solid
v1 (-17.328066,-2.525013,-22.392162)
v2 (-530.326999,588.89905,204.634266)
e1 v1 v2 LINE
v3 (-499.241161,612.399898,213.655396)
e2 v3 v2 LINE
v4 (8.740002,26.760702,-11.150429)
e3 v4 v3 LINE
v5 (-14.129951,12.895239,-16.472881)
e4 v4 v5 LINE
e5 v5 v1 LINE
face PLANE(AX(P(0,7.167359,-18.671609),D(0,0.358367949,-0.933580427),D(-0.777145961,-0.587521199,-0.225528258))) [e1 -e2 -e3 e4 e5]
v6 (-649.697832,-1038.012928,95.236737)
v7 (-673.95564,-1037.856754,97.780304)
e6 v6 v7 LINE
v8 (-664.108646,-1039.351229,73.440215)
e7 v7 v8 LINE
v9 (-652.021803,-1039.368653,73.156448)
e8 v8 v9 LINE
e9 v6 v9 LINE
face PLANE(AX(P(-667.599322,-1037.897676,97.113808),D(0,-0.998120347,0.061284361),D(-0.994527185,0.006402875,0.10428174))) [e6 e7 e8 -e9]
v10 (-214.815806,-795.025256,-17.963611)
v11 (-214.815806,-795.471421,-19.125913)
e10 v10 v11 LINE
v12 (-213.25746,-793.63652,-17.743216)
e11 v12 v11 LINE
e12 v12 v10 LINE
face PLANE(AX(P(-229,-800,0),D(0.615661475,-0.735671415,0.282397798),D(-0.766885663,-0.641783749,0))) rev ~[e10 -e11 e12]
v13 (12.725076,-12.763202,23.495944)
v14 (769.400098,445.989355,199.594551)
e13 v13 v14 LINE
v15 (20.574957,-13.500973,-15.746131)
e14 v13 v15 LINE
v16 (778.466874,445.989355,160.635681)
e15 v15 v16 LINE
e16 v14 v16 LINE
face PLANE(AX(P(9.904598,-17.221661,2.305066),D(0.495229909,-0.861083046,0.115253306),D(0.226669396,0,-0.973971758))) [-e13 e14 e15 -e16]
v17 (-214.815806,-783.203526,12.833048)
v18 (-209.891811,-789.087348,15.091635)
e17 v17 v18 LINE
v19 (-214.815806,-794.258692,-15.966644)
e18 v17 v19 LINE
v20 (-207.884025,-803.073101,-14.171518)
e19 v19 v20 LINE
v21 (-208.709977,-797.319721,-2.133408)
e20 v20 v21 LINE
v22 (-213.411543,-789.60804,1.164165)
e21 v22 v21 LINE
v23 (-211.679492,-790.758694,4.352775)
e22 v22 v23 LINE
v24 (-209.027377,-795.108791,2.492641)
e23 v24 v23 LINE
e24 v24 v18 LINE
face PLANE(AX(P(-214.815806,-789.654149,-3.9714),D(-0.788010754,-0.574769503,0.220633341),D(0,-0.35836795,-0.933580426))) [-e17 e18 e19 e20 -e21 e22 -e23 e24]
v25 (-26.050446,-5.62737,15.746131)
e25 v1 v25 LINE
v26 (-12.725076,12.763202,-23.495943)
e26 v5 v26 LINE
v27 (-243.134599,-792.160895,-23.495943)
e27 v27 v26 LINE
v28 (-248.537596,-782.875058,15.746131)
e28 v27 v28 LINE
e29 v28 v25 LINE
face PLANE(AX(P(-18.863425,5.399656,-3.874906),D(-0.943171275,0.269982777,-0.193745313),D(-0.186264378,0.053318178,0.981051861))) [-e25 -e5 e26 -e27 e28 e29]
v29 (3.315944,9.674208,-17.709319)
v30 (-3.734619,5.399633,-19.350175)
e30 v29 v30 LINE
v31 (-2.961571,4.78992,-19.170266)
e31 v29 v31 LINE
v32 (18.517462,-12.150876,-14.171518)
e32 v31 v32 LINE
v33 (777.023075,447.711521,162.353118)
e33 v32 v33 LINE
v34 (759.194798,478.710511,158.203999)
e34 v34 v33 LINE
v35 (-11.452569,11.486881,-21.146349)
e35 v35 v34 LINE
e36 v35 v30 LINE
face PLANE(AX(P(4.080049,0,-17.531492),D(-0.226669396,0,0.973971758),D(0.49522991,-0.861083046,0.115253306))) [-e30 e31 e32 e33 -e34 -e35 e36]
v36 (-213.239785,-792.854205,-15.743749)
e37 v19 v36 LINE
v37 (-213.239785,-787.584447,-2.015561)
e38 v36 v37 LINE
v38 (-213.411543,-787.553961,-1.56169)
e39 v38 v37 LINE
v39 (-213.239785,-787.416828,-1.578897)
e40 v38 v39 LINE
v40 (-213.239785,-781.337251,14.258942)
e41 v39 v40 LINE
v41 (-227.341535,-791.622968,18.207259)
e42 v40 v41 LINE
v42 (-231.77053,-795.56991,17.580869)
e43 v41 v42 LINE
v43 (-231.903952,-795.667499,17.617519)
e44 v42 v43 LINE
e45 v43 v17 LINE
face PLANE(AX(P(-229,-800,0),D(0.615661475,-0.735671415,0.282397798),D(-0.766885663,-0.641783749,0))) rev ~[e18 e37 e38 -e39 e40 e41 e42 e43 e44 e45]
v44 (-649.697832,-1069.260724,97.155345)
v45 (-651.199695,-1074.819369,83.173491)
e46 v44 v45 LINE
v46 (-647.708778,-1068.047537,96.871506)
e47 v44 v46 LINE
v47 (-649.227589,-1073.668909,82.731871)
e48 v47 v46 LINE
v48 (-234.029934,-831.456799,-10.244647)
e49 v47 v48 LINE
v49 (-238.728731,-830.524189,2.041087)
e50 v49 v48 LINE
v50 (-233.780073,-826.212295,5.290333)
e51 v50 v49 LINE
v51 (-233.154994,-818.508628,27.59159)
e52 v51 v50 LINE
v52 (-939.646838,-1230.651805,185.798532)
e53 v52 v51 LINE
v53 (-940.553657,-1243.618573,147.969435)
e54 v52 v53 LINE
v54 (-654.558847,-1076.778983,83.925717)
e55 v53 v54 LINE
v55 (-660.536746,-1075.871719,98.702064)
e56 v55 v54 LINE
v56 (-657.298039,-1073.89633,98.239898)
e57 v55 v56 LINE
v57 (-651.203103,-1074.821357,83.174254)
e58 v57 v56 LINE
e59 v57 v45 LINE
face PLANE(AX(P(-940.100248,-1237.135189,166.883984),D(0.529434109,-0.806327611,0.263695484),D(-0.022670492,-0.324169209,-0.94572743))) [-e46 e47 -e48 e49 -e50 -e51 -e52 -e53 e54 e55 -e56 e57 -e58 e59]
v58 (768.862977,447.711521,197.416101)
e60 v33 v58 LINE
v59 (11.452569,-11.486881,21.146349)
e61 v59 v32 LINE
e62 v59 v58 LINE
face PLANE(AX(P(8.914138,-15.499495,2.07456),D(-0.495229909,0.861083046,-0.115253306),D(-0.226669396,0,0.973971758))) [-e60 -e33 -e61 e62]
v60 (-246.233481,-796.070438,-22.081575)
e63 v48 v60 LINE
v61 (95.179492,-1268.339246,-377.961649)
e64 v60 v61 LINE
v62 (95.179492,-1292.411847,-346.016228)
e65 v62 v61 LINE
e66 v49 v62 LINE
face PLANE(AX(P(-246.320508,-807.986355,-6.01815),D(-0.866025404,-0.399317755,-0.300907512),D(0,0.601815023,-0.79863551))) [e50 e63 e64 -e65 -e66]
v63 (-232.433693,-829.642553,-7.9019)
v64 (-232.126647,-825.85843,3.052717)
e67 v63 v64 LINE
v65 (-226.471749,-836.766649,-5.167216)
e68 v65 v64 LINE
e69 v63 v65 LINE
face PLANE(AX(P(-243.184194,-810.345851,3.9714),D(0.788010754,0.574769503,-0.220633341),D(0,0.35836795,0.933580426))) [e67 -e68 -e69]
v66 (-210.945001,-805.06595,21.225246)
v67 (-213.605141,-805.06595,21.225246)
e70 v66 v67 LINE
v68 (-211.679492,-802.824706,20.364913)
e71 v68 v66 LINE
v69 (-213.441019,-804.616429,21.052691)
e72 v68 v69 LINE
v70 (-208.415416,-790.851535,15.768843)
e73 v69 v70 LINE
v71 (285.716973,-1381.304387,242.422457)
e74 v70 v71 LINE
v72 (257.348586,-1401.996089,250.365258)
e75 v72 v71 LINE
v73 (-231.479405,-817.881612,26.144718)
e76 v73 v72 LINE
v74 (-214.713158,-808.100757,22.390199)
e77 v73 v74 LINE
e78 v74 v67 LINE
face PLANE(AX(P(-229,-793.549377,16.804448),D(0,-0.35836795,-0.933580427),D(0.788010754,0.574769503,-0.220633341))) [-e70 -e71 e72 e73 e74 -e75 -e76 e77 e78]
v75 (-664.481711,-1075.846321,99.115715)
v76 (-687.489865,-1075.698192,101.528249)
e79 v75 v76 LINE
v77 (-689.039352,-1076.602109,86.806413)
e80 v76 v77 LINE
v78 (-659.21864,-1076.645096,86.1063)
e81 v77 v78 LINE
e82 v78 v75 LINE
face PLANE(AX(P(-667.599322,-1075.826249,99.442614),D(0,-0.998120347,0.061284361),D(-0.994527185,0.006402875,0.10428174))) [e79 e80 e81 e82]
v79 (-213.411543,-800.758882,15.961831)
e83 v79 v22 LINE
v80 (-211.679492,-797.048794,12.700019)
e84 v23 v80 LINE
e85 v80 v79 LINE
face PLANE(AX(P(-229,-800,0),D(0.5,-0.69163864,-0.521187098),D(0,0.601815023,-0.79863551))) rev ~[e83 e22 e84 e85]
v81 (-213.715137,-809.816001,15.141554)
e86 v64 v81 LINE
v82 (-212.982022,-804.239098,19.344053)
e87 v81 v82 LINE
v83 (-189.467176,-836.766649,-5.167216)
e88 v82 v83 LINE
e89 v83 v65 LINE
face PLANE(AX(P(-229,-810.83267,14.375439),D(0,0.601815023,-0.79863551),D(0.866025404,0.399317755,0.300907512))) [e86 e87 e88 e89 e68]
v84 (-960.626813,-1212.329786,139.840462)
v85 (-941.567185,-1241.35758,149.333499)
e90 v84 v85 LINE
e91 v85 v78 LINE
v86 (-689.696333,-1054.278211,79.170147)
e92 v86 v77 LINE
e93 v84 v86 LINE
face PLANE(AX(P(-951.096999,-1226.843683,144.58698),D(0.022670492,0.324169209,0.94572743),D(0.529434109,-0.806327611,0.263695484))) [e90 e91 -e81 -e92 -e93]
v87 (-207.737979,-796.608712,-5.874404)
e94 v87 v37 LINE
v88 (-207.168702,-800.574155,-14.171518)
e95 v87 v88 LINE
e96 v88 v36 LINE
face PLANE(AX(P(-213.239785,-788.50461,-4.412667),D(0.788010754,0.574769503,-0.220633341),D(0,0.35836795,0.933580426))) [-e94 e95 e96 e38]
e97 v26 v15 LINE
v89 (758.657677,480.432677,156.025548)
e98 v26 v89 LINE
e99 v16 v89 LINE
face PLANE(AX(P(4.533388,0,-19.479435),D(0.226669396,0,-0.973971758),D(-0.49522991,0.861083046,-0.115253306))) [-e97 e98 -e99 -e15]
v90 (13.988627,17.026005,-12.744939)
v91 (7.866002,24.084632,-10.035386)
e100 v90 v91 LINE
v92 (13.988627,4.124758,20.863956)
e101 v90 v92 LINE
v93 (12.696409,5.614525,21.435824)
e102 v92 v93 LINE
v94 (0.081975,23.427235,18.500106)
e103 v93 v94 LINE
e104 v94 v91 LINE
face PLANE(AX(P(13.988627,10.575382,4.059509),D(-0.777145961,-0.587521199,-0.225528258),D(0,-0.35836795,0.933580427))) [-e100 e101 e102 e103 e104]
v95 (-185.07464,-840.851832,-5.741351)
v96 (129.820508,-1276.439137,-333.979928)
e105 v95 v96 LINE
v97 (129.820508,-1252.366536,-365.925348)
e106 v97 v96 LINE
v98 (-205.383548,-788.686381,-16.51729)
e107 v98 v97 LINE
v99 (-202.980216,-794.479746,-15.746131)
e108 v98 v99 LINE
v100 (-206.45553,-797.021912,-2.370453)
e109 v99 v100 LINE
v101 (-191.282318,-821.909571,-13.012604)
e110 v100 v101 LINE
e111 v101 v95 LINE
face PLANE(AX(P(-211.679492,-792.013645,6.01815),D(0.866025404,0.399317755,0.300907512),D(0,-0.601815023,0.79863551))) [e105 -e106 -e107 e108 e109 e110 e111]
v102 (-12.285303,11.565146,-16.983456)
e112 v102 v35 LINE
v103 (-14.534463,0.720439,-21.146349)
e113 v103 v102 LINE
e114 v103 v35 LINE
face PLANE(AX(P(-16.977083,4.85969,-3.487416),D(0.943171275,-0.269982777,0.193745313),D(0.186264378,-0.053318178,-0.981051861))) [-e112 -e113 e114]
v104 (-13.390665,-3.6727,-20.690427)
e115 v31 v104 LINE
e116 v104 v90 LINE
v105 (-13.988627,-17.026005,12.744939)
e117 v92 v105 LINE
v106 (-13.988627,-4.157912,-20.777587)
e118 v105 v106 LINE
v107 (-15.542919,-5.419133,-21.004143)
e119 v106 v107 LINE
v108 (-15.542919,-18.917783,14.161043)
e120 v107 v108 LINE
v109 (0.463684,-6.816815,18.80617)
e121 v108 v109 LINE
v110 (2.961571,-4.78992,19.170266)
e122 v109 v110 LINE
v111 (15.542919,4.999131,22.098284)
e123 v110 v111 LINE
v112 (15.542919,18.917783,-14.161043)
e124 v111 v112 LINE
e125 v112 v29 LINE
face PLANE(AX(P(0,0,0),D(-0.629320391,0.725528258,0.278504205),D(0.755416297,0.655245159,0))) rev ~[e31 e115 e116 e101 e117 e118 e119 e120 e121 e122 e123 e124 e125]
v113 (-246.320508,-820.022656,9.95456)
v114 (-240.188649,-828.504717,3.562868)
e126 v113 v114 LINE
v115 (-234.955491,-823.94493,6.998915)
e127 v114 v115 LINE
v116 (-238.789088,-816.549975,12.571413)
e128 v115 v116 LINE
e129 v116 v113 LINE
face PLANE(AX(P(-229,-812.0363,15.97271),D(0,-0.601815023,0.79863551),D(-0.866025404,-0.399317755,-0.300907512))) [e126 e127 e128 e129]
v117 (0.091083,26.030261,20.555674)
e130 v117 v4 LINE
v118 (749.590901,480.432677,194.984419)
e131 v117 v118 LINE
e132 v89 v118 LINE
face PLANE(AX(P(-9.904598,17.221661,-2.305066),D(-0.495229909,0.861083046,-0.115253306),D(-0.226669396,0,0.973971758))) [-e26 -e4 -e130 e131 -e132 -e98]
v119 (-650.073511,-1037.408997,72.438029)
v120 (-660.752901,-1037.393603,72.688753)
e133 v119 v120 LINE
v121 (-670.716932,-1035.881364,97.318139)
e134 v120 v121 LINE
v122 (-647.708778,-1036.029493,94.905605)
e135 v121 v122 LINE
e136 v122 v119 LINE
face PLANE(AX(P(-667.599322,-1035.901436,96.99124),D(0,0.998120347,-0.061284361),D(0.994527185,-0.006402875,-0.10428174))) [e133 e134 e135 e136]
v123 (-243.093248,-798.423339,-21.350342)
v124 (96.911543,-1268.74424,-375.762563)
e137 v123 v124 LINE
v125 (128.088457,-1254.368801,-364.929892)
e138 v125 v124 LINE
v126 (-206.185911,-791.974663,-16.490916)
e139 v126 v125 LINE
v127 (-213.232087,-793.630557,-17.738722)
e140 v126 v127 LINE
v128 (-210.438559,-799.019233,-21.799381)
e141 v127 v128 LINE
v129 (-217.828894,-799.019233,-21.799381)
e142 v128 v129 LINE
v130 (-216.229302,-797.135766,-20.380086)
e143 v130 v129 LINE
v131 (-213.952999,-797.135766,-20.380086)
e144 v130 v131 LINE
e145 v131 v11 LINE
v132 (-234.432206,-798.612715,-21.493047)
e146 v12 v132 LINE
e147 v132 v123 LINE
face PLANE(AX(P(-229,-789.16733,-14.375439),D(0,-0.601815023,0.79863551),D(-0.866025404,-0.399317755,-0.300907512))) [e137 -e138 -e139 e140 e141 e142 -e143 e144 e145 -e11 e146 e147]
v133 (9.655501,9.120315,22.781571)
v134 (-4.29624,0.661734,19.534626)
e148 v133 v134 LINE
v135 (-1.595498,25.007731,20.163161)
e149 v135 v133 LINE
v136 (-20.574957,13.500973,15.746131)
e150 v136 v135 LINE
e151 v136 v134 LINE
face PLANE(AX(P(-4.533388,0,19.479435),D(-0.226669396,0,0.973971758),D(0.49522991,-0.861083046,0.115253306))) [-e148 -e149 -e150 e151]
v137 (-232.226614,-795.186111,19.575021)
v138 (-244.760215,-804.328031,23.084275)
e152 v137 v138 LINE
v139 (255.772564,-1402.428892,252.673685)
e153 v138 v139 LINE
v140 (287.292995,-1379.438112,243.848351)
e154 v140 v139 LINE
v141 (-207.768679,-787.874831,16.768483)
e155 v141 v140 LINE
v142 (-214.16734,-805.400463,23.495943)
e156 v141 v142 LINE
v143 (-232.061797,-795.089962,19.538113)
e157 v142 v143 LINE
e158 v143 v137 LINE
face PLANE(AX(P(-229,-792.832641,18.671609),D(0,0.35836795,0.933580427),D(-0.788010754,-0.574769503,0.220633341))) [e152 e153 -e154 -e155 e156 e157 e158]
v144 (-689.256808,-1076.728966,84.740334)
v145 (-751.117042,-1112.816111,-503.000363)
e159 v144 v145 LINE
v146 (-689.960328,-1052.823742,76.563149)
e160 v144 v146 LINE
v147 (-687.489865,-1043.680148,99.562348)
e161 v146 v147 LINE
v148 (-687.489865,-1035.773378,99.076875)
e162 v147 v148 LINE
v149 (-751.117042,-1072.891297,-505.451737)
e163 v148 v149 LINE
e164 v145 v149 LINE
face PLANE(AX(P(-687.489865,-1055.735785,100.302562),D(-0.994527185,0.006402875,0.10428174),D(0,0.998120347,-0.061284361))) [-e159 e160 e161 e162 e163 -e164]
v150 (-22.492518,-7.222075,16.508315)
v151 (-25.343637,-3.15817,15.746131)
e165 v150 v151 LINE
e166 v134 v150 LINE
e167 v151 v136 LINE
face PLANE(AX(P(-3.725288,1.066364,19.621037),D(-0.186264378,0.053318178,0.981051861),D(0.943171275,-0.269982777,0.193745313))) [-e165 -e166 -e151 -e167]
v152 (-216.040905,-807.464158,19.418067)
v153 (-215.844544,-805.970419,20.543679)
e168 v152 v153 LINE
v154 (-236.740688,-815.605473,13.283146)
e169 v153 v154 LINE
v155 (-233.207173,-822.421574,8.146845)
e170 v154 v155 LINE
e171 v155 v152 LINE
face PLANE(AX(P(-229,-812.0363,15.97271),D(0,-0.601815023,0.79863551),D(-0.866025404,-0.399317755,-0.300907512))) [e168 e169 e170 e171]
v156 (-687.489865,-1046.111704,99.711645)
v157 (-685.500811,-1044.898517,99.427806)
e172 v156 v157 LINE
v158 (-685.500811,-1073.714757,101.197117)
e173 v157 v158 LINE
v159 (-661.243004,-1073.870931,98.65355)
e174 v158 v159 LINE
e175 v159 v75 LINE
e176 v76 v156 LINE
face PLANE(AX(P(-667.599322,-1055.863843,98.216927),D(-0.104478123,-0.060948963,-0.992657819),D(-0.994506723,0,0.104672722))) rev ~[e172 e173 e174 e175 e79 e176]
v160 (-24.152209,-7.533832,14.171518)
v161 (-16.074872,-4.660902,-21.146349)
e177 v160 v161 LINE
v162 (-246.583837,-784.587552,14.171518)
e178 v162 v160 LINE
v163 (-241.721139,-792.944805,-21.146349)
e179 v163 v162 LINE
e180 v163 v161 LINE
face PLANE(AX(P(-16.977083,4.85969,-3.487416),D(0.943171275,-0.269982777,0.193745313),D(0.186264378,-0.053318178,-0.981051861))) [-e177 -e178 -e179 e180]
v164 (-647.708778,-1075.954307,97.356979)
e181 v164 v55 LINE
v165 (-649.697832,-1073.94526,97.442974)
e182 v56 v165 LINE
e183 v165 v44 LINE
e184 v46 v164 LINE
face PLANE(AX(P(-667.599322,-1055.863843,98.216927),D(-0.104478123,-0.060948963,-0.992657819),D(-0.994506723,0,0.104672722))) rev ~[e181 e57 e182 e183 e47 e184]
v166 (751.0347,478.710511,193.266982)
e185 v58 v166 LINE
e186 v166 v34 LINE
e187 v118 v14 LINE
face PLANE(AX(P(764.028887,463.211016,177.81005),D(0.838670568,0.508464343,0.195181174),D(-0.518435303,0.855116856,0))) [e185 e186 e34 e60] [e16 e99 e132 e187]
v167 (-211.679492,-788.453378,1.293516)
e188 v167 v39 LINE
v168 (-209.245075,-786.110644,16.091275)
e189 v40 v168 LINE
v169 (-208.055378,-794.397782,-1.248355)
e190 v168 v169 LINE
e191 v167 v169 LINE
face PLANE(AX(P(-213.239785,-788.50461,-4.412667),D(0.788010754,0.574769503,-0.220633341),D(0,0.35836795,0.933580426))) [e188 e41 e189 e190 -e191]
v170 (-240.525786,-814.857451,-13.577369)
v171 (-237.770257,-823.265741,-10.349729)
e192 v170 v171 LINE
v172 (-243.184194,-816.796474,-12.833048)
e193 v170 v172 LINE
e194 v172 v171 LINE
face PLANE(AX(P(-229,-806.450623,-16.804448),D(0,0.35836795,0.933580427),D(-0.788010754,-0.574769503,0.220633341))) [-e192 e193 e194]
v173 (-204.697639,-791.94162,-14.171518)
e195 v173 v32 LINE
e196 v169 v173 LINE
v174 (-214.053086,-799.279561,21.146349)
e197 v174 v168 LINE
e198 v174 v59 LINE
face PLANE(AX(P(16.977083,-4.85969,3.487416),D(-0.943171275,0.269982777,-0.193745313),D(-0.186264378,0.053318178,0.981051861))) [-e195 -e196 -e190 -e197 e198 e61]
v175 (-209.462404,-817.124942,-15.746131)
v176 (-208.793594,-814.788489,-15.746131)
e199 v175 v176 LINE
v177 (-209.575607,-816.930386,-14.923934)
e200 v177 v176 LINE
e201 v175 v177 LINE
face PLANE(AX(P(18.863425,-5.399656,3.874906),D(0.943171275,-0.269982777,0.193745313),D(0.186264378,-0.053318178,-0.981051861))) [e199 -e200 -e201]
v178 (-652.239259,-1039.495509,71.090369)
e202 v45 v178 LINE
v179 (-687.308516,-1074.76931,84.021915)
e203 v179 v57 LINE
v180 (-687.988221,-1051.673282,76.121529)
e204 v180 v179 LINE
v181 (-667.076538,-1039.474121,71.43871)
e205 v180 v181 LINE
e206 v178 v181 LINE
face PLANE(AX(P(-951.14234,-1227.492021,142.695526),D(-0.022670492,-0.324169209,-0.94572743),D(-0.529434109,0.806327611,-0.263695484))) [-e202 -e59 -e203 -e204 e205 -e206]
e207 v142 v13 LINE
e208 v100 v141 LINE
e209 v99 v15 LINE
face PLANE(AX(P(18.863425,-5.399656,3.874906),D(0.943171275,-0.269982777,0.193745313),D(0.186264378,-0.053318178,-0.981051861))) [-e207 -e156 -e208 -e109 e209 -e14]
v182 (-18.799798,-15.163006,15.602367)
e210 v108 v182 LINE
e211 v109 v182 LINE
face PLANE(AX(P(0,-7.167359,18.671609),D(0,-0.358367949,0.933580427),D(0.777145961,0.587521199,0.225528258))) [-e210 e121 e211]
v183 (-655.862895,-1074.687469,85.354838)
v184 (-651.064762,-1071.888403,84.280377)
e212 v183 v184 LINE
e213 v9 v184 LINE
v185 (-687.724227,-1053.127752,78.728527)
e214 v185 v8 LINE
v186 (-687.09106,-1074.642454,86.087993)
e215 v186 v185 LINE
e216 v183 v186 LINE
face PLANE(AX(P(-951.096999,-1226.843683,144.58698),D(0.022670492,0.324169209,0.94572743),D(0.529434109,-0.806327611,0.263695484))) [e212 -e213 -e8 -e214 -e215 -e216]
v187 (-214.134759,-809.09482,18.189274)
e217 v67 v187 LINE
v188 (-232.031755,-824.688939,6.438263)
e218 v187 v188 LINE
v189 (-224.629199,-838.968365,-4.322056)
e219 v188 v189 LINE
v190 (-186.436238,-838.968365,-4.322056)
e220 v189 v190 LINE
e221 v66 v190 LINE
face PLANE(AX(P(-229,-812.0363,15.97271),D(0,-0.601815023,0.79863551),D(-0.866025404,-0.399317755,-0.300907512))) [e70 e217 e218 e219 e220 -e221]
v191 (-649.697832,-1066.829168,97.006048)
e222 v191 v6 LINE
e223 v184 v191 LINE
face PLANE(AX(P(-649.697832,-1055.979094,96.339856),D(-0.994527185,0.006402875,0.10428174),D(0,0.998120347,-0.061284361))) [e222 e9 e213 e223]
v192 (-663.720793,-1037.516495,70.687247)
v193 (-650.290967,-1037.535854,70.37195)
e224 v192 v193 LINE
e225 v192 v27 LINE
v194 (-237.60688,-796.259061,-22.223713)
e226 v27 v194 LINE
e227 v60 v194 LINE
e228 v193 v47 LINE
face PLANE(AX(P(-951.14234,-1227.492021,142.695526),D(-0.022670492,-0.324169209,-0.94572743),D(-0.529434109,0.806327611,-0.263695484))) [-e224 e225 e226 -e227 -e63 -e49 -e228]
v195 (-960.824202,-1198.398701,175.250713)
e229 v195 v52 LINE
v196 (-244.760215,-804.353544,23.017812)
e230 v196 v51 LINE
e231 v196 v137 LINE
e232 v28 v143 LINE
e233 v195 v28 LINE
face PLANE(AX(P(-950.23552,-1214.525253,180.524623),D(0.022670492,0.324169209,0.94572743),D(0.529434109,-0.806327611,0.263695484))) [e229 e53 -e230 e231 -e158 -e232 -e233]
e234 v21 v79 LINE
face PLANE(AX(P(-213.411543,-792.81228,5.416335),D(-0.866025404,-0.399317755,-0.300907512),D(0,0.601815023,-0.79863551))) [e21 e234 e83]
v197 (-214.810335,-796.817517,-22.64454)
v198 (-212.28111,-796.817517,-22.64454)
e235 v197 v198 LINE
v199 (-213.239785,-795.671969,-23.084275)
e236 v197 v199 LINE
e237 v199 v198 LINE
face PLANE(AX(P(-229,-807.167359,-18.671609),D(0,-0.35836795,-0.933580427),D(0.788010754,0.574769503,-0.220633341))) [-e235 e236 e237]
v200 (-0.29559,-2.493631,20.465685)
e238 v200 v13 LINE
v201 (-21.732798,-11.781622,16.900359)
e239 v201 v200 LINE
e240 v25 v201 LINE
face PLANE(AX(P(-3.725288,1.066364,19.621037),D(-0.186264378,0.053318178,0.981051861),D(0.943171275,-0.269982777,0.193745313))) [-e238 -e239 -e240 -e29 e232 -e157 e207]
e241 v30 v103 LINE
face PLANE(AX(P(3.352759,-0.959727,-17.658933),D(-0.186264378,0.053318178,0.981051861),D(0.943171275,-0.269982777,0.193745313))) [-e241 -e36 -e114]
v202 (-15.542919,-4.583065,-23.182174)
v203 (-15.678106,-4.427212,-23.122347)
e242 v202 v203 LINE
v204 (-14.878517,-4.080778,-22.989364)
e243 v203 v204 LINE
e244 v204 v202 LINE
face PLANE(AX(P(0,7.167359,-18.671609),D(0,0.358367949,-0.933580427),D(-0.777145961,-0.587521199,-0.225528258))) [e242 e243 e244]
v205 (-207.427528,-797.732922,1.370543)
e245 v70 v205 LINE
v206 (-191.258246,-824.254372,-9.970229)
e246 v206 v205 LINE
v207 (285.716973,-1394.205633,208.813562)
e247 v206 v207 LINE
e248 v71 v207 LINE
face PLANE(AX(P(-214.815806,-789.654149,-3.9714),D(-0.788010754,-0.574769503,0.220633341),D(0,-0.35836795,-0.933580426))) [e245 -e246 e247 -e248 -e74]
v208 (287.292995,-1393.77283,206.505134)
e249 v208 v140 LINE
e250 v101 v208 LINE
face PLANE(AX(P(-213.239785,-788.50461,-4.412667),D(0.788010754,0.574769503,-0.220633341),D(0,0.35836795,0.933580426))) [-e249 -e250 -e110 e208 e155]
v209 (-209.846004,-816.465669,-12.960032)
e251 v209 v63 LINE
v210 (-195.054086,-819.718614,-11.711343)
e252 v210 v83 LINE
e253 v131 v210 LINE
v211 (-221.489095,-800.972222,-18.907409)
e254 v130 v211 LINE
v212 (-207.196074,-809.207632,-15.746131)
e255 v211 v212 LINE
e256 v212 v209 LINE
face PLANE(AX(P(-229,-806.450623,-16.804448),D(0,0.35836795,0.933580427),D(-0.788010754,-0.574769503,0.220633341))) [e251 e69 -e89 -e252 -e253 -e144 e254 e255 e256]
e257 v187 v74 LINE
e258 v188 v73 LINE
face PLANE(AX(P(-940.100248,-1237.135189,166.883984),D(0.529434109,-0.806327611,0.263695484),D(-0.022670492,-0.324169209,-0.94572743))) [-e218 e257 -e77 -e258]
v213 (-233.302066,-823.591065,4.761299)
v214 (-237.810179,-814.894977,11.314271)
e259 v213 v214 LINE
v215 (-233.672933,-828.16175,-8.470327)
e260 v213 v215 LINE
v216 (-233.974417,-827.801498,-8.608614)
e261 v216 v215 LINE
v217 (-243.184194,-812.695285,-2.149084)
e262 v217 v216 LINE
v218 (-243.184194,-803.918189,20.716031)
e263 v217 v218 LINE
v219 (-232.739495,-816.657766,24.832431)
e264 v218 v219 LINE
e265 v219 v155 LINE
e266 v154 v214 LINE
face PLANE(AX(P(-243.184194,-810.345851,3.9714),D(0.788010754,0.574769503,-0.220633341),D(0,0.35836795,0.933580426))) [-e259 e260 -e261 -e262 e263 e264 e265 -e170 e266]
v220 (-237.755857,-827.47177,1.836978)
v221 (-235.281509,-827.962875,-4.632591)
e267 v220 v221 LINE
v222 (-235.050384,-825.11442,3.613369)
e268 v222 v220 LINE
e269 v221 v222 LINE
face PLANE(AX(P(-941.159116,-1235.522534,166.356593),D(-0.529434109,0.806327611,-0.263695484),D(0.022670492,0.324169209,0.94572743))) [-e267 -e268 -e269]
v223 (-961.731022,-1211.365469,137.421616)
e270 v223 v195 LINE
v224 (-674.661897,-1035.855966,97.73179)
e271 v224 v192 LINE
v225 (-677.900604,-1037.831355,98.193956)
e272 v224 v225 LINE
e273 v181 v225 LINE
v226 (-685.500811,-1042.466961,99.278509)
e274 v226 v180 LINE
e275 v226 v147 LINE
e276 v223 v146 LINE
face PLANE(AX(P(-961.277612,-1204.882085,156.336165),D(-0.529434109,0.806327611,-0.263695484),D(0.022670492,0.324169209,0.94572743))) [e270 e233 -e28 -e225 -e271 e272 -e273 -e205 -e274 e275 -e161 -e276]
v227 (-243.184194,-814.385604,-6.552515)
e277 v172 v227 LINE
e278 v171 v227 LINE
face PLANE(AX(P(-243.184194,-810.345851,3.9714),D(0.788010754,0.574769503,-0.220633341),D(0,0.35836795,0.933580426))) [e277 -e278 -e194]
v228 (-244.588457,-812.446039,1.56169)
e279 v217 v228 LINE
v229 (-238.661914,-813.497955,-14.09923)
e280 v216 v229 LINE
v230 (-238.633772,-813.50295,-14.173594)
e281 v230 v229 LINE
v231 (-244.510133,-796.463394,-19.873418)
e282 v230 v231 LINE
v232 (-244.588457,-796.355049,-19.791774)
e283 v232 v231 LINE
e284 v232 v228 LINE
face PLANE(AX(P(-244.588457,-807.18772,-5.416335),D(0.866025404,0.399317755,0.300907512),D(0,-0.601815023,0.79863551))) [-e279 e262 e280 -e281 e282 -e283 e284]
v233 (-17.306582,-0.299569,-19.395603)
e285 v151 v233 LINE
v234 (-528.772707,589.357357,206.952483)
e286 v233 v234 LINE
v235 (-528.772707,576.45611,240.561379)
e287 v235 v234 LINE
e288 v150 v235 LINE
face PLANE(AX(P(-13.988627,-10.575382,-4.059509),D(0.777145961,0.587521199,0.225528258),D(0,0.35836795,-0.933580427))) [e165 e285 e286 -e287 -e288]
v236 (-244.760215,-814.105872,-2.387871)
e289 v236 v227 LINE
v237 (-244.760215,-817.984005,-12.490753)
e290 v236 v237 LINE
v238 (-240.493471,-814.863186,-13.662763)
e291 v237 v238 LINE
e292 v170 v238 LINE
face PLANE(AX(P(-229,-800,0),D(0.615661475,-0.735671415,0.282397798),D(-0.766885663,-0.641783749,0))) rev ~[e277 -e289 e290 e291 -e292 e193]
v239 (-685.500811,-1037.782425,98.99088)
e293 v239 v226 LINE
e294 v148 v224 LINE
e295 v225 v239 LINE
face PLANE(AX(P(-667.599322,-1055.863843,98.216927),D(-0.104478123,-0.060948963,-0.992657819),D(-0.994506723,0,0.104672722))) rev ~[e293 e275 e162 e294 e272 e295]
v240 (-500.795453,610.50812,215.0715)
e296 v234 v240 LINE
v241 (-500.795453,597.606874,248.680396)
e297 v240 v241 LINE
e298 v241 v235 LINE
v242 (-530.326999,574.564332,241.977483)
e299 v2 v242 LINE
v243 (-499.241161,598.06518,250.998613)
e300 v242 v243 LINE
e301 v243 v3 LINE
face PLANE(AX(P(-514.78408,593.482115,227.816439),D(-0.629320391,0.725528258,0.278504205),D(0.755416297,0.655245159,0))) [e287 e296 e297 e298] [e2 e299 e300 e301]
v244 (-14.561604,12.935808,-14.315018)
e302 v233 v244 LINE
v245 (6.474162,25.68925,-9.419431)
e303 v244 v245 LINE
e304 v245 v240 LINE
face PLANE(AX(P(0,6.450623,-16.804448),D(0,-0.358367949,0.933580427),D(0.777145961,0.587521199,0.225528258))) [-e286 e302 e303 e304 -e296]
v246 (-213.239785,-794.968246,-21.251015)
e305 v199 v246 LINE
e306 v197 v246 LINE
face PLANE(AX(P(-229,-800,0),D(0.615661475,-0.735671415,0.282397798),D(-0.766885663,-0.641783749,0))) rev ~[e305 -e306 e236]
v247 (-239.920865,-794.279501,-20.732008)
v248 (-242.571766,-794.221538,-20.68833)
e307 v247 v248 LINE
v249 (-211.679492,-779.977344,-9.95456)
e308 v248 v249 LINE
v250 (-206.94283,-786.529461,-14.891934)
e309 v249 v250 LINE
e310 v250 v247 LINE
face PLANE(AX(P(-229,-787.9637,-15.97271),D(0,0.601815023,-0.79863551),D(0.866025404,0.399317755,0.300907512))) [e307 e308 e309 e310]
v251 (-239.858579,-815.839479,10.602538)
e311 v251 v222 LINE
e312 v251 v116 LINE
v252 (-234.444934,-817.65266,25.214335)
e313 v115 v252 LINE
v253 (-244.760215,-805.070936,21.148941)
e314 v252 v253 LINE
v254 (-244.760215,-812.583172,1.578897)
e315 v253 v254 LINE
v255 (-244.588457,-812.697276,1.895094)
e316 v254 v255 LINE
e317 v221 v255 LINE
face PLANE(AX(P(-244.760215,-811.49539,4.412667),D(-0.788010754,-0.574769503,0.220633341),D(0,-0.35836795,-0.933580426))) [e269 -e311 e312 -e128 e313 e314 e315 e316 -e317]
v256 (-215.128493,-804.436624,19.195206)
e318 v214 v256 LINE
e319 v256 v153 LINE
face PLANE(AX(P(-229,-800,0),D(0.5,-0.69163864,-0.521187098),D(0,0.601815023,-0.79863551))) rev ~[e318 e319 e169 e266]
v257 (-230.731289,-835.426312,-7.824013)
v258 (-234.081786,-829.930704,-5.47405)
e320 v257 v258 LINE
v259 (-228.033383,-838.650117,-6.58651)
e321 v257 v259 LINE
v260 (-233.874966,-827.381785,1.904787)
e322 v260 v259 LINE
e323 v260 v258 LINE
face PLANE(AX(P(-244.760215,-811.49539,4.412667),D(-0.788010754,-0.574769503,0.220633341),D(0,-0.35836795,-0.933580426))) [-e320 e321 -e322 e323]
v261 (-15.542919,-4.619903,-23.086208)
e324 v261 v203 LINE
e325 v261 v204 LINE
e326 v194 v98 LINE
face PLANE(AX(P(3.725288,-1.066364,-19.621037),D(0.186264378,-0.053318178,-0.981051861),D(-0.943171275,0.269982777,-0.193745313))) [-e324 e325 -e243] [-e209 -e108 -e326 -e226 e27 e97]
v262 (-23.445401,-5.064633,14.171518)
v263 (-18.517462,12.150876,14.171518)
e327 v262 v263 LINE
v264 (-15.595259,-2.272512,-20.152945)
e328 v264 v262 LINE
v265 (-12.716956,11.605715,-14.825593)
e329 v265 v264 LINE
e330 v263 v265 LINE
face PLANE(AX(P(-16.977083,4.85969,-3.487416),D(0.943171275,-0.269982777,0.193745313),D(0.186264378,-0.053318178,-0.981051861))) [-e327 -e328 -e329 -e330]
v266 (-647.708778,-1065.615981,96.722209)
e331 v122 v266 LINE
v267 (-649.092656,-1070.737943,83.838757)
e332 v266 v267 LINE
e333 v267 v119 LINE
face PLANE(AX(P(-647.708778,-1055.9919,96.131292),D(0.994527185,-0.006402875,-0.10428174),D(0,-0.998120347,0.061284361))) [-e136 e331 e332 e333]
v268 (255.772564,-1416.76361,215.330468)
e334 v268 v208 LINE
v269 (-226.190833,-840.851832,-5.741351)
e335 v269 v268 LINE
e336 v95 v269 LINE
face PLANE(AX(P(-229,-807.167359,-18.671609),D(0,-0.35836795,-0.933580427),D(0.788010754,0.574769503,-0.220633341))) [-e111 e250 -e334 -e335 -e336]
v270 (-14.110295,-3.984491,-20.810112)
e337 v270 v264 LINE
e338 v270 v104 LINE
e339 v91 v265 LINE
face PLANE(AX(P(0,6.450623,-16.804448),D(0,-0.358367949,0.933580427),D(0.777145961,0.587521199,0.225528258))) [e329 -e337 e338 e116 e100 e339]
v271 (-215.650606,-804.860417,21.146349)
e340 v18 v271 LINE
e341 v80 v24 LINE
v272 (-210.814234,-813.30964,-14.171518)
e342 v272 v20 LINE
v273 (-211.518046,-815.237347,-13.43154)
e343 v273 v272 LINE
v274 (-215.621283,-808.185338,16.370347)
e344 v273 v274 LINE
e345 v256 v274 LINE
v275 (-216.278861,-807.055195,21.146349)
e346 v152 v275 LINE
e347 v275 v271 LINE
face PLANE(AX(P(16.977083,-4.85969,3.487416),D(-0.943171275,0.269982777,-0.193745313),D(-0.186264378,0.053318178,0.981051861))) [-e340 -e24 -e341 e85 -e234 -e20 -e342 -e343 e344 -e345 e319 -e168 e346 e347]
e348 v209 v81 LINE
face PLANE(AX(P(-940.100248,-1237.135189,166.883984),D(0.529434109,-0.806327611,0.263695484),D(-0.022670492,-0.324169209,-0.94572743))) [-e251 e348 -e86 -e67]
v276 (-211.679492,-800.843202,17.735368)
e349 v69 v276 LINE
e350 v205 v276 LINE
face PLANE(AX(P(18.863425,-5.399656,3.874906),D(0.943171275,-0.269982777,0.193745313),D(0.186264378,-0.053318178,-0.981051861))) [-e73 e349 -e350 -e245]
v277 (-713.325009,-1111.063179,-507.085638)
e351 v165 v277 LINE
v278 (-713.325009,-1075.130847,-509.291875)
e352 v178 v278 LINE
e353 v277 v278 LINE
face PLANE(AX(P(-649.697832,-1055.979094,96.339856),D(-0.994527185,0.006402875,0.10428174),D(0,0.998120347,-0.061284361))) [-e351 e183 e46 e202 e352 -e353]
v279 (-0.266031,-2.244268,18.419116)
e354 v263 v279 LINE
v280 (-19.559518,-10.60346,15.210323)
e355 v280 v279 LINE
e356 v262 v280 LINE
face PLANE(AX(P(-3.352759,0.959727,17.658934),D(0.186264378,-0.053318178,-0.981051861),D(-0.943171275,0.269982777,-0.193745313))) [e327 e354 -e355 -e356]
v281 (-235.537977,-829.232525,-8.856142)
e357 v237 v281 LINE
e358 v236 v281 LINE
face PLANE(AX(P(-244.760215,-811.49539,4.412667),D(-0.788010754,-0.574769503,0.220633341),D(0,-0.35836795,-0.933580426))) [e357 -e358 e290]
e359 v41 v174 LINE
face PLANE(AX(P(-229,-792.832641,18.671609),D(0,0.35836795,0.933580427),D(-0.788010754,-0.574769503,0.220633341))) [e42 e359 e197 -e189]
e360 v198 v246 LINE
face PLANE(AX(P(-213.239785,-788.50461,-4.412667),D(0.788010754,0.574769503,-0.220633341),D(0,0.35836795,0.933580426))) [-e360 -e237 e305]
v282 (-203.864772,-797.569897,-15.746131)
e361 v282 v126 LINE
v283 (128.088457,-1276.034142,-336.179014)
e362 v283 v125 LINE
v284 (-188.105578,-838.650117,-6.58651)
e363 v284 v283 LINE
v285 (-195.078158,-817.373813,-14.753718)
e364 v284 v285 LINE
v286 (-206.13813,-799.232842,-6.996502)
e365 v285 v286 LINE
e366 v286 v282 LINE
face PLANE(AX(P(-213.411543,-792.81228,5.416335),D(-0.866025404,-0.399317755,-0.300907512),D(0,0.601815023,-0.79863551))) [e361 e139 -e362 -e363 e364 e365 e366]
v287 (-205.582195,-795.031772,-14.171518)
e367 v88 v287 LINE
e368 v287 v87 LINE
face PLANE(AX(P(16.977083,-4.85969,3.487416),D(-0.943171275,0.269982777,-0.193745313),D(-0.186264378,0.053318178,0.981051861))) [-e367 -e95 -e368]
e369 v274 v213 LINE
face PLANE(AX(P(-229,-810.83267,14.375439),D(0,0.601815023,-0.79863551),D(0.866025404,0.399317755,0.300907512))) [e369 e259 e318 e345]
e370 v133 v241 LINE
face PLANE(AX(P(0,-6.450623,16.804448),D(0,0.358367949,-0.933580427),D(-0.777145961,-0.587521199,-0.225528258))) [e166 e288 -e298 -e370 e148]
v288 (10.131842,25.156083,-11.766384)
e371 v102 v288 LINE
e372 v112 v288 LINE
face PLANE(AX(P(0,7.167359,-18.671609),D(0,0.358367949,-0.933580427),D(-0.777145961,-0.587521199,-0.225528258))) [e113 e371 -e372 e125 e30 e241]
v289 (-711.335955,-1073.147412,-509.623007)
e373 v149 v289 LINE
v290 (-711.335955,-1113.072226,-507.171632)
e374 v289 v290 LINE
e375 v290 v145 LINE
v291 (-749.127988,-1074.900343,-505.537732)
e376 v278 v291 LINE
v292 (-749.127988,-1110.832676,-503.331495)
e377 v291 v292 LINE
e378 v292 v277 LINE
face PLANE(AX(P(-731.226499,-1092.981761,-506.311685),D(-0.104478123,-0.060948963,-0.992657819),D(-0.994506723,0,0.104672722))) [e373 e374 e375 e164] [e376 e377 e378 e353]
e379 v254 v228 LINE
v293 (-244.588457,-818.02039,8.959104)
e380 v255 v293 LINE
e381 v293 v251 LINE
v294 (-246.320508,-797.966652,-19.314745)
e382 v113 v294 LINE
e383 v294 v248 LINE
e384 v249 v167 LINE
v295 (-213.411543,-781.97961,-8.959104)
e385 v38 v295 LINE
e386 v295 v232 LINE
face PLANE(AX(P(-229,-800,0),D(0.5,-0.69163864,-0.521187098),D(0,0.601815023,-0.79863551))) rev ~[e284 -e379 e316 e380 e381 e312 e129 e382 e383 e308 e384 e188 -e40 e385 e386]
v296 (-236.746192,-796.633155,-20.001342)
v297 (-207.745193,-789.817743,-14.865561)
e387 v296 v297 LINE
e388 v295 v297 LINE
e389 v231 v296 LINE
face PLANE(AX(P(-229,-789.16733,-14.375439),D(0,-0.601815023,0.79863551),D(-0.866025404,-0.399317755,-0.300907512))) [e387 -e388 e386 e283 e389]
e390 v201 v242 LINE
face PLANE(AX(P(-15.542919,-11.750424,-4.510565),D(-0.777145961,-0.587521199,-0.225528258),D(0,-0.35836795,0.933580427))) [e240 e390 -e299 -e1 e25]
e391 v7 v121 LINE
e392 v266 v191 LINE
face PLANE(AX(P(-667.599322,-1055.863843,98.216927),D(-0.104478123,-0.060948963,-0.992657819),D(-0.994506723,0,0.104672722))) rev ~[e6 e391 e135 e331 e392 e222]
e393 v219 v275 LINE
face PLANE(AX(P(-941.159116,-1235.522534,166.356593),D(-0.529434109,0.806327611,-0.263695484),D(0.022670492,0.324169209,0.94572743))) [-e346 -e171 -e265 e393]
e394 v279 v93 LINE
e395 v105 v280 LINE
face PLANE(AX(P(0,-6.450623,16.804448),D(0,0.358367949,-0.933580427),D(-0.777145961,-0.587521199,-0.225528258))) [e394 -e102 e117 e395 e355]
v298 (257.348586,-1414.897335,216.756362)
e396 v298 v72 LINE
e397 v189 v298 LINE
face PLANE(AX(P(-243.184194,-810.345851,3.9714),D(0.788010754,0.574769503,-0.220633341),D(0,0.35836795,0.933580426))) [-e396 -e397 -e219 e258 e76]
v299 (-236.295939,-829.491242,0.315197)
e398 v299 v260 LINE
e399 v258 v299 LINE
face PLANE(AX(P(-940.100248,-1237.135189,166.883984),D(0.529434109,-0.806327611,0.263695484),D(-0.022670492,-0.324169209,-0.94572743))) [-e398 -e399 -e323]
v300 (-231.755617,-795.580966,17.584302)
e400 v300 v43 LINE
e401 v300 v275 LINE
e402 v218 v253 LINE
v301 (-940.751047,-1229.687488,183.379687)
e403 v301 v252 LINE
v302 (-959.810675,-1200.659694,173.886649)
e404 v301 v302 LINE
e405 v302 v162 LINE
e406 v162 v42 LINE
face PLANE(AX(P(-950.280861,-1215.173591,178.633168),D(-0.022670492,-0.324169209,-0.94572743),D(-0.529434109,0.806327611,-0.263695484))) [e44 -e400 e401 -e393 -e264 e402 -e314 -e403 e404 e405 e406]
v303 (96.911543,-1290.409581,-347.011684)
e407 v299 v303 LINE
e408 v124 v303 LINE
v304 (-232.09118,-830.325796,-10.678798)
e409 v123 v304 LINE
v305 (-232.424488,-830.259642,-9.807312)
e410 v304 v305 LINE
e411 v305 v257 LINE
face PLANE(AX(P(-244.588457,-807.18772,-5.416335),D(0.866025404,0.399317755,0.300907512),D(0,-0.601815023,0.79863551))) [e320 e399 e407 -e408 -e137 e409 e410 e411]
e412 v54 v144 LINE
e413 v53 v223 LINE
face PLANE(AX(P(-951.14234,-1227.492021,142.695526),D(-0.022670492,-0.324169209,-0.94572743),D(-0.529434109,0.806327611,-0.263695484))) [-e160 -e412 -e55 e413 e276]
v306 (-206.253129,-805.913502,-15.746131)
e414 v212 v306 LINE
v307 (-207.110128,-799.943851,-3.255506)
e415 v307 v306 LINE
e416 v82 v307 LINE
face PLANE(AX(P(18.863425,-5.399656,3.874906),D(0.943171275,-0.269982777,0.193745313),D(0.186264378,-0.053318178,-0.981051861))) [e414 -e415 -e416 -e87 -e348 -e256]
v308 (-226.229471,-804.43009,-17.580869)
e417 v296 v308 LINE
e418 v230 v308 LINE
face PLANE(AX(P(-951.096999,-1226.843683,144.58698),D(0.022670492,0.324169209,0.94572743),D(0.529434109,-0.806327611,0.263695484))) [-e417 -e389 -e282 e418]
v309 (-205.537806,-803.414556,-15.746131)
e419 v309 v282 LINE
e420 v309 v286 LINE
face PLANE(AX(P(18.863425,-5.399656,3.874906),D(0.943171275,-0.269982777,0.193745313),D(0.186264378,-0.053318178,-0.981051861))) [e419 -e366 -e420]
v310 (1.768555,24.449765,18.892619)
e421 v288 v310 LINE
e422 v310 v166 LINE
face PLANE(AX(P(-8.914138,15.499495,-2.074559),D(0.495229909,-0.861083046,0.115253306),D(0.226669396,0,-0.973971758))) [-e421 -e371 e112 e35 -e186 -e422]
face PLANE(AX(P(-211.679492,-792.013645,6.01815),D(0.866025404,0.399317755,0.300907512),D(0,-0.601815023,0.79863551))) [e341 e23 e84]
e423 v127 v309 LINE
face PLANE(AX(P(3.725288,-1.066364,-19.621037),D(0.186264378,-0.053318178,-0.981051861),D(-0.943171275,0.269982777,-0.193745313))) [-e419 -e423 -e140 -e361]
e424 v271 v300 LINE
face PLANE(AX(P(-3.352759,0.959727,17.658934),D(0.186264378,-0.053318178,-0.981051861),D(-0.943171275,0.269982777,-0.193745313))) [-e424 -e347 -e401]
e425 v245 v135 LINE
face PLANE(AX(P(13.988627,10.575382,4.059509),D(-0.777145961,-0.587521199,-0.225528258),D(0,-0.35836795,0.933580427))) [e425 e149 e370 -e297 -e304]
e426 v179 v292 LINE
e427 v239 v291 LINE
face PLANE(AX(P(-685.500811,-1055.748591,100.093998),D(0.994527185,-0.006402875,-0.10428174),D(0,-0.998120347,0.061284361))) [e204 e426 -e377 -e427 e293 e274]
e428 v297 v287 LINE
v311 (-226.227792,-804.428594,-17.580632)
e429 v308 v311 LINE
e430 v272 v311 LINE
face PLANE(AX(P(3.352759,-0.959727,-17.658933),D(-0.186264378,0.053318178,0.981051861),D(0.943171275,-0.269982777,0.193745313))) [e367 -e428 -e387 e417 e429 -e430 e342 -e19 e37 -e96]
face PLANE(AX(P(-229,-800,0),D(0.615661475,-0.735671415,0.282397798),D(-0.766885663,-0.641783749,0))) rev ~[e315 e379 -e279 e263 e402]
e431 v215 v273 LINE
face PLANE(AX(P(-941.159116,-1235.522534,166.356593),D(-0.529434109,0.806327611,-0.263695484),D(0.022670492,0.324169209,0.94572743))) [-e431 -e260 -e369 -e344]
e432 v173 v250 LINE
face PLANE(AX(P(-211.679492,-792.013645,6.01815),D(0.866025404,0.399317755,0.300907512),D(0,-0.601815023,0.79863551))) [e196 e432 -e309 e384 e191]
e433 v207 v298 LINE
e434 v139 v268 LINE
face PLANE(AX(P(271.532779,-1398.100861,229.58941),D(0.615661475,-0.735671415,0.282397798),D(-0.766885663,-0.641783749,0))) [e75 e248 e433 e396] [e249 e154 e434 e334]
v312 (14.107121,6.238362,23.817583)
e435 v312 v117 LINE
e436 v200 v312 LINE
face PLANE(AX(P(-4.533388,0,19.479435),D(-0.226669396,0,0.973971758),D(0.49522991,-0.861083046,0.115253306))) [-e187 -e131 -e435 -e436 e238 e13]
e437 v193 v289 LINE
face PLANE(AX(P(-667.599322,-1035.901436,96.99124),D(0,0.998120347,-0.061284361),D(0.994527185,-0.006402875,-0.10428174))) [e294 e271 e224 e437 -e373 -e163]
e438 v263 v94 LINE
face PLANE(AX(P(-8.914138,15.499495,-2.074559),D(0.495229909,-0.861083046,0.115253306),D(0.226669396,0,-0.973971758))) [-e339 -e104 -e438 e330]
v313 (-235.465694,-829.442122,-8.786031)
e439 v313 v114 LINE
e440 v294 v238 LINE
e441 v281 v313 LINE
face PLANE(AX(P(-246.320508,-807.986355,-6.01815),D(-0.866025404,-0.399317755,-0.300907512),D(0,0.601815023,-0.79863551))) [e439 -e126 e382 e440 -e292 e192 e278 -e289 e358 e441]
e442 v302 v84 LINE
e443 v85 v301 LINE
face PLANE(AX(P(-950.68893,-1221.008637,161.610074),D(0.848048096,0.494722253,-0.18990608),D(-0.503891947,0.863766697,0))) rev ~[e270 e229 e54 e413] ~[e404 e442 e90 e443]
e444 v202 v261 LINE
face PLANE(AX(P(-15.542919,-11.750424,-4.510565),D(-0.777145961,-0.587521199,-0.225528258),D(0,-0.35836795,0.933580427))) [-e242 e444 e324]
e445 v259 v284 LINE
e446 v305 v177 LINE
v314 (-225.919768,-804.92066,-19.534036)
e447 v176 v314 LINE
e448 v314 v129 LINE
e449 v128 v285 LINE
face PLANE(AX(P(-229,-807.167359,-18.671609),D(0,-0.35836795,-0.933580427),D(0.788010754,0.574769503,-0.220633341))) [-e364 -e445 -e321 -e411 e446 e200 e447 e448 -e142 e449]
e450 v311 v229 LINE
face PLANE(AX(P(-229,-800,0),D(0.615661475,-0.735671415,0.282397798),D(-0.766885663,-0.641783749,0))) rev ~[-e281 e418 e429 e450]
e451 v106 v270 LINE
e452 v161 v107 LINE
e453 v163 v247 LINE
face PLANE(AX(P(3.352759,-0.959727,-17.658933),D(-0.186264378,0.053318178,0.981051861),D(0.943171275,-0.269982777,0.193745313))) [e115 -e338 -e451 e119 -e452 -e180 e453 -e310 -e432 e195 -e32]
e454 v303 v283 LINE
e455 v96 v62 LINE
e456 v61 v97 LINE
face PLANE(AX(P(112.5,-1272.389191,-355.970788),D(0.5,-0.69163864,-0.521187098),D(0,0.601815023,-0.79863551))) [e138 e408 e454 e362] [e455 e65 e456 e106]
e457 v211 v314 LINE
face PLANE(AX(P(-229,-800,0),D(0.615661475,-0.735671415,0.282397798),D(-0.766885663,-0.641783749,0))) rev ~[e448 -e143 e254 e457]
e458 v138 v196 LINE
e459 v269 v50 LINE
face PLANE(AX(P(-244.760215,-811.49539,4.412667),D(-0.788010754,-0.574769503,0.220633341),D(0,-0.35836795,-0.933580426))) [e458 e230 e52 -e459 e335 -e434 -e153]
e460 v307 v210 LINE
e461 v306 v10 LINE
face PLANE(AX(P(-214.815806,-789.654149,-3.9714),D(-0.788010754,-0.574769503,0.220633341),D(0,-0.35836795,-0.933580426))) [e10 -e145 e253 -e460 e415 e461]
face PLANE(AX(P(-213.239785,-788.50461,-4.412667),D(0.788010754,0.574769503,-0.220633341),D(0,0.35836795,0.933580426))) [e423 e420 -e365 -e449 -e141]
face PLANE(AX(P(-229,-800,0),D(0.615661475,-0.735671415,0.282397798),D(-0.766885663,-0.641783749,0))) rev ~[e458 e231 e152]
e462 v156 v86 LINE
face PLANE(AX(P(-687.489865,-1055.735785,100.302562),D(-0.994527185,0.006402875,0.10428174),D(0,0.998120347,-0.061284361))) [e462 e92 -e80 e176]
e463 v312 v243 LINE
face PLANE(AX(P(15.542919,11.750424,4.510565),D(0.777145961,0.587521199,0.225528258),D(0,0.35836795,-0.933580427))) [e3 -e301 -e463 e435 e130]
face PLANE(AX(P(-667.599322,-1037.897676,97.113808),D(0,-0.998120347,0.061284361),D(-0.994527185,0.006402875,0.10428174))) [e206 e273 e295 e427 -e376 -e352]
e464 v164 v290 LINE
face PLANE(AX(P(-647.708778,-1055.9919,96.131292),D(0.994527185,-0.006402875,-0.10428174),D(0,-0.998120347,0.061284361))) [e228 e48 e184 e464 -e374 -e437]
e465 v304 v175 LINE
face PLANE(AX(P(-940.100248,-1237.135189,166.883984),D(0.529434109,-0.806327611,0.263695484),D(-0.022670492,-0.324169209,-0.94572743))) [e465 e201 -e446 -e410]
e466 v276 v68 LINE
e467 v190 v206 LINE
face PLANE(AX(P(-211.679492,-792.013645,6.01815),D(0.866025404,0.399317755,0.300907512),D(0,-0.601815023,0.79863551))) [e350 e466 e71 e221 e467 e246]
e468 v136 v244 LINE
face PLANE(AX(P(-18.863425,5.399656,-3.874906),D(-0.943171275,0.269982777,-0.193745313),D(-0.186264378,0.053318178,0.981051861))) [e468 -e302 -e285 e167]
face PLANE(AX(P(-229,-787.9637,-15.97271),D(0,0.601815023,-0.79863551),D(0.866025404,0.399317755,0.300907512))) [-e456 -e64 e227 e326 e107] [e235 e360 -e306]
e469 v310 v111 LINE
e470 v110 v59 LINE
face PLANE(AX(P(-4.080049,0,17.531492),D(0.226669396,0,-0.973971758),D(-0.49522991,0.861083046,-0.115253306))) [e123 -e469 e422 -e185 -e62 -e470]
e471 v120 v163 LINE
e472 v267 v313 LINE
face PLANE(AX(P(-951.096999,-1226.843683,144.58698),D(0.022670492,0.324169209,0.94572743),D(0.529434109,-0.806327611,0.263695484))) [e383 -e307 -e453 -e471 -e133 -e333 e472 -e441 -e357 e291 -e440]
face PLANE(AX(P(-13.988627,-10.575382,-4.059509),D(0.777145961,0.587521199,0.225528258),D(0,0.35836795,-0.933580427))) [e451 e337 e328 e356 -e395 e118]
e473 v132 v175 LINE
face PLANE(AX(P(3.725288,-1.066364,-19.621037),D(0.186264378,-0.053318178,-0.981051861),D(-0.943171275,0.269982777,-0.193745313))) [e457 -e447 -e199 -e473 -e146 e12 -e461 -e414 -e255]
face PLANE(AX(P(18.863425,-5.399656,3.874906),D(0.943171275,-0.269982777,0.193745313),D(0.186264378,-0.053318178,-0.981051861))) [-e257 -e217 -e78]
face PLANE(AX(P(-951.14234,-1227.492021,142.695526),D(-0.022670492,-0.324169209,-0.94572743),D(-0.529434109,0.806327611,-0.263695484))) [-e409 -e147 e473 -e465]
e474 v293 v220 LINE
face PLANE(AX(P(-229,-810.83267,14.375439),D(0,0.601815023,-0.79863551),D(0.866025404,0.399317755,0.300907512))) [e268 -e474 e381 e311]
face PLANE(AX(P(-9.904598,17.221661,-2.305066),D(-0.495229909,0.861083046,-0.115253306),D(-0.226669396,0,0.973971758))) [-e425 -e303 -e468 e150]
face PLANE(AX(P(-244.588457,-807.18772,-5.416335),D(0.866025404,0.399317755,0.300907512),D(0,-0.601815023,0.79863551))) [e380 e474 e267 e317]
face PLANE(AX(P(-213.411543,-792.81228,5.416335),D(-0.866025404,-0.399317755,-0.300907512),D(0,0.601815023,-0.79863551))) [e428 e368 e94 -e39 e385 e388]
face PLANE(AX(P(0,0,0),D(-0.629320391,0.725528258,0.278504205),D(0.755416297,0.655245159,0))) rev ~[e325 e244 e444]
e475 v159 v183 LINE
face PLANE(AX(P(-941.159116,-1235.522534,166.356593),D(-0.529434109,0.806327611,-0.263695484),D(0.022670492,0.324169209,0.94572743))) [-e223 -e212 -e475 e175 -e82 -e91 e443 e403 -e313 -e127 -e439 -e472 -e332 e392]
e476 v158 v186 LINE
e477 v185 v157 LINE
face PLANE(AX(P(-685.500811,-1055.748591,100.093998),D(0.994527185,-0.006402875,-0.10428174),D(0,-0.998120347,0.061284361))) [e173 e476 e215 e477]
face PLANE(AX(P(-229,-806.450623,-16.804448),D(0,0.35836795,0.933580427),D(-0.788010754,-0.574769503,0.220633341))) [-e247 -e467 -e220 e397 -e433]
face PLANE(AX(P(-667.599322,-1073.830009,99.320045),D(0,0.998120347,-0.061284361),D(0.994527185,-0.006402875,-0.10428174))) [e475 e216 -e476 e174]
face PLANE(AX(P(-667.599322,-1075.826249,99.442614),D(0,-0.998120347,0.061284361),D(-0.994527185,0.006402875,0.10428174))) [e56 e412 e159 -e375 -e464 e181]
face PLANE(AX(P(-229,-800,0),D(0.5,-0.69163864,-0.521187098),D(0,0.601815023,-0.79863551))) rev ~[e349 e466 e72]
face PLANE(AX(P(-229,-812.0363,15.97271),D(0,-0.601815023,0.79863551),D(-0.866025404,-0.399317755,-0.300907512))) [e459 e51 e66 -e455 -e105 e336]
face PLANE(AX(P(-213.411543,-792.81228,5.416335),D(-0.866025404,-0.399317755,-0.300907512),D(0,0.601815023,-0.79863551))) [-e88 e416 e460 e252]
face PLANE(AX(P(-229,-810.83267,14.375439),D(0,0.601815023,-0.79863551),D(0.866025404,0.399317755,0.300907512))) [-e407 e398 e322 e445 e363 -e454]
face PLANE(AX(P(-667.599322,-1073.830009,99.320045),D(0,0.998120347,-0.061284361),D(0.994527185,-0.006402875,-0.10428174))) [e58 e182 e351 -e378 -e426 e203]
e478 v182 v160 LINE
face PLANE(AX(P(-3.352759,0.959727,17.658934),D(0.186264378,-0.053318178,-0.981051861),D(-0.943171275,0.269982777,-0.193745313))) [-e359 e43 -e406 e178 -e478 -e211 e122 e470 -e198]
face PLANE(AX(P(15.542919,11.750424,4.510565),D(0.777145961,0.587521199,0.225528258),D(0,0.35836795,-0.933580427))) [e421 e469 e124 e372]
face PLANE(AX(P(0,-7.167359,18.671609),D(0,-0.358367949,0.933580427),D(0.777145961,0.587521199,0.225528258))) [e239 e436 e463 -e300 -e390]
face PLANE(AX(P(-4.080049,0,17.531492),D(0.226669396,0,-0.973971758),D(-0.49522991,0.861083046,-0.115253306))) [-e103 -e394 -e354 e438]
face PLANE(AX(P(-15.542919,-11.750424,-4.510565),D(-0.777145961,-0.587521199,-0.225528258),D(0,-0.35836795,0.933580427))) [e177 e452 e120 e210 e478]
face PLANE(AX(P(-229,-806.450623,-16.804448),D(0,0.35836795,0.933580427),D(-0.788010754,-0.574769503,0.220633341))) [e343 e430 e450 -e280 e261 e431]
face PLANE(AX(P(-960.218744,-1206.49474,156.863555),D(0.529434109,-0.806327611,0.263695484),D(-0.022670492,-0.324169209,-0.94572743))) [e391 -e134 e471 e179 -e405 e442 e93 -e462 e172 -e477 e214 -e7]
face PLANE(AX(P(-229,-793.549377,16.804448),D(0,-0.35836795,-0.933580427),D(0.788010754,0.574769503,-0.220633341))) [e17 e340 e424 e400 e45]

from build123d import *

# Parameters (mm, degrees)
F6_W    = 40
F6_H    = 40
F6_W_2  = 36
F6_H_2  = 36
F5_W    = 40
F5_H    = 40
F5_W_2  = 36
F5_H_2  = 36
F13_W   = 40
F13_H   = 40
F13_W_2 = 36
F13_H_2 = 36
F20_W   = 40
F20_H   = 40
F20_W_2 = 36
F20_H_2 = 36
F25_W   = 40
F25_H   = 40
F25_W_2 = 36
F25_H_2 = 36


with BuildPart() as f11:
    # F11: sweep along a path in F2, F7, F10
    with BuildLine(Plane(origin=(0, 0, 0), x_dir=(1, 0, 0), z_dir=(0, -0.3583679495, 0.9335804265))) as f11_path:
        Line((0, 0), (764.0288873983, 496.1661608987))
    with BuildLine(Plane.XY) as f11_path_2:
        Line((0, 0), (-229, -800))
    with BuildLine(Plane(origin=(0, -102.742069809, -267.6522425435), x_dir=(1, 0, 0), z_dir=(0, -0.3583679495, -0.9335804265))) as f11_path_3:
        Line((-950.6889298291, 1197.8256350602), (-229, 746.8643411978))
    # F6 (on line) → F11 (sweep)
    with BuildSketch(Plane(origin=(764.0288873983, 463.2110161053, 177.810049715), x_dir=(-0.4952299095, 0.8610830461, -0.1152533056), z_dir=(0.8386705679, 0.5084643426, 0.1951811742))):
        Rectangle(F6_W, F6_H)
        Rectangle(F6_W_2, F6_H_2, mode=Mode.SUBTRACT)
    sweep(path=f11_path.line + f11_path_2.line + f11_path_3.line, transition=Transition.RIGHT)

    # F14: sweep along a path in F2
    with BuildLine(Plane(origin=(0, 0, 0), x_dir=(1, 0, 0), z_dir=(0, -0.3583679495, 0.9335804265))) as f14_path:
        Line((0, 0), (-514.7840798788, 635.7053964718))
    # F5 (on line) → F14 (sweep)
    with BuildSketch(Plane(origin=(-514.7840798788, 593.4821151647, 227.8164394485), x_dir=(-0.7771459615, -0.5875211991, -0.2255282581), z_dir=(-0.629320391, 0.7255282581, 0.2785042047))):
        Rectangle(F5_W, F5_H)
        Rectangle(F5_W_2, F5_H_2, mode=Mode.SUBTRACT)
    sweep(path=f14_path.line)

    # F15: sweep along a path in F10
    with BuildLine(Plane(origin=(0, -102.742069809, -267.6522425435), x_dir=(1, 0, 0), z_dir=(0, -0.3583679495, -0.9335804265))) as f15_path:
        Line((-229, 746.8643411978), (271.5327794398, 1387.51708388))
    # F13 (on line) → F15 (sweep)
    with BuildSketch(Plane(origin=(776.072475672, -927.3510842252, 355.9767290852), x_dir=(0.7880107536, 0.5747695027, -0.2206333405), z_dir=(0.6156614753, -0.7356714154, 0.282397798))):
        with Locations((-640.2700647459, -286.6943596362)):
            Rectangle(F13_W, F13_H)
        with Locations((-640.2700647459, -286.6943596362)):
            Rectangle(F13_W_2, F13_H_2, mode=Mode.SUBTRACT)
    sweep(path=f15_path.line)

    # F21: sweep along a path in F18
    with BuildLine(Plane(origin=(0, -289.7450576732, 384.5046783753), x_dir=(1, 0, 0), z_dir=(0, 0.6018150232, -0.79863551))) as f21_path:
        Line((-229, 638.9084080378), (112.5, 1230.4037588226))
    # F20 (on line) → F21 (sweep)
    with BuildSketch(Plane(origin=(560.9054560261, -775.8877736222, -584.6733742383), x_dir=(0.8660254038, 0.399317755, 0.3009075116), z_dir=(0.5, -0.6916386401, -0.5211870984))):
        with Locations((-517.7740214856, 481.4520185216)):
            Rectangle(F20_W, F20_H)
        with Locations((-517.7740214856, 481.4520185216)):
            Rectangle(F20_W_2, F20_H_2, mode=Mode.SUBTRACT)
    sweep(path=f21_path.line)

    # F26: sweep along a path in F23
    with BuildLine(Plane(origin=(290.0513412295, -497.2032011274, 0), x_dir=(-0.8637666966, -0.5038919466, 0), z_dir=(-0.5038919466, 0.8637666966, 0))) as f26_path:
        Line((1108.6913477208, 98.2169269961), (1182.3538043363, -506.3116848044))
    # F25 (on line) → F26 (sweep)
    with BuildSketch(Plane(origin=(-67.4518628313, -39.3491096563, -640.8673626896), x_dir=(0.9945271851, -0.006402875, -0.1042817402), z_dir=(-0.1044781228, -0.0609489633, -0.992657819))):
        with Locations((-667.4273420568, 1059.8983464665)):
            Rectangle(F25_W, F25_H)
        with Locations((-667.4273420568, 1059.8983464665)):
            Rectangle(F25_W_2, F25_H_2, mode=Mode.SUBTRACT)
    sweep(path=f26_path.line)


solid = f11.part
